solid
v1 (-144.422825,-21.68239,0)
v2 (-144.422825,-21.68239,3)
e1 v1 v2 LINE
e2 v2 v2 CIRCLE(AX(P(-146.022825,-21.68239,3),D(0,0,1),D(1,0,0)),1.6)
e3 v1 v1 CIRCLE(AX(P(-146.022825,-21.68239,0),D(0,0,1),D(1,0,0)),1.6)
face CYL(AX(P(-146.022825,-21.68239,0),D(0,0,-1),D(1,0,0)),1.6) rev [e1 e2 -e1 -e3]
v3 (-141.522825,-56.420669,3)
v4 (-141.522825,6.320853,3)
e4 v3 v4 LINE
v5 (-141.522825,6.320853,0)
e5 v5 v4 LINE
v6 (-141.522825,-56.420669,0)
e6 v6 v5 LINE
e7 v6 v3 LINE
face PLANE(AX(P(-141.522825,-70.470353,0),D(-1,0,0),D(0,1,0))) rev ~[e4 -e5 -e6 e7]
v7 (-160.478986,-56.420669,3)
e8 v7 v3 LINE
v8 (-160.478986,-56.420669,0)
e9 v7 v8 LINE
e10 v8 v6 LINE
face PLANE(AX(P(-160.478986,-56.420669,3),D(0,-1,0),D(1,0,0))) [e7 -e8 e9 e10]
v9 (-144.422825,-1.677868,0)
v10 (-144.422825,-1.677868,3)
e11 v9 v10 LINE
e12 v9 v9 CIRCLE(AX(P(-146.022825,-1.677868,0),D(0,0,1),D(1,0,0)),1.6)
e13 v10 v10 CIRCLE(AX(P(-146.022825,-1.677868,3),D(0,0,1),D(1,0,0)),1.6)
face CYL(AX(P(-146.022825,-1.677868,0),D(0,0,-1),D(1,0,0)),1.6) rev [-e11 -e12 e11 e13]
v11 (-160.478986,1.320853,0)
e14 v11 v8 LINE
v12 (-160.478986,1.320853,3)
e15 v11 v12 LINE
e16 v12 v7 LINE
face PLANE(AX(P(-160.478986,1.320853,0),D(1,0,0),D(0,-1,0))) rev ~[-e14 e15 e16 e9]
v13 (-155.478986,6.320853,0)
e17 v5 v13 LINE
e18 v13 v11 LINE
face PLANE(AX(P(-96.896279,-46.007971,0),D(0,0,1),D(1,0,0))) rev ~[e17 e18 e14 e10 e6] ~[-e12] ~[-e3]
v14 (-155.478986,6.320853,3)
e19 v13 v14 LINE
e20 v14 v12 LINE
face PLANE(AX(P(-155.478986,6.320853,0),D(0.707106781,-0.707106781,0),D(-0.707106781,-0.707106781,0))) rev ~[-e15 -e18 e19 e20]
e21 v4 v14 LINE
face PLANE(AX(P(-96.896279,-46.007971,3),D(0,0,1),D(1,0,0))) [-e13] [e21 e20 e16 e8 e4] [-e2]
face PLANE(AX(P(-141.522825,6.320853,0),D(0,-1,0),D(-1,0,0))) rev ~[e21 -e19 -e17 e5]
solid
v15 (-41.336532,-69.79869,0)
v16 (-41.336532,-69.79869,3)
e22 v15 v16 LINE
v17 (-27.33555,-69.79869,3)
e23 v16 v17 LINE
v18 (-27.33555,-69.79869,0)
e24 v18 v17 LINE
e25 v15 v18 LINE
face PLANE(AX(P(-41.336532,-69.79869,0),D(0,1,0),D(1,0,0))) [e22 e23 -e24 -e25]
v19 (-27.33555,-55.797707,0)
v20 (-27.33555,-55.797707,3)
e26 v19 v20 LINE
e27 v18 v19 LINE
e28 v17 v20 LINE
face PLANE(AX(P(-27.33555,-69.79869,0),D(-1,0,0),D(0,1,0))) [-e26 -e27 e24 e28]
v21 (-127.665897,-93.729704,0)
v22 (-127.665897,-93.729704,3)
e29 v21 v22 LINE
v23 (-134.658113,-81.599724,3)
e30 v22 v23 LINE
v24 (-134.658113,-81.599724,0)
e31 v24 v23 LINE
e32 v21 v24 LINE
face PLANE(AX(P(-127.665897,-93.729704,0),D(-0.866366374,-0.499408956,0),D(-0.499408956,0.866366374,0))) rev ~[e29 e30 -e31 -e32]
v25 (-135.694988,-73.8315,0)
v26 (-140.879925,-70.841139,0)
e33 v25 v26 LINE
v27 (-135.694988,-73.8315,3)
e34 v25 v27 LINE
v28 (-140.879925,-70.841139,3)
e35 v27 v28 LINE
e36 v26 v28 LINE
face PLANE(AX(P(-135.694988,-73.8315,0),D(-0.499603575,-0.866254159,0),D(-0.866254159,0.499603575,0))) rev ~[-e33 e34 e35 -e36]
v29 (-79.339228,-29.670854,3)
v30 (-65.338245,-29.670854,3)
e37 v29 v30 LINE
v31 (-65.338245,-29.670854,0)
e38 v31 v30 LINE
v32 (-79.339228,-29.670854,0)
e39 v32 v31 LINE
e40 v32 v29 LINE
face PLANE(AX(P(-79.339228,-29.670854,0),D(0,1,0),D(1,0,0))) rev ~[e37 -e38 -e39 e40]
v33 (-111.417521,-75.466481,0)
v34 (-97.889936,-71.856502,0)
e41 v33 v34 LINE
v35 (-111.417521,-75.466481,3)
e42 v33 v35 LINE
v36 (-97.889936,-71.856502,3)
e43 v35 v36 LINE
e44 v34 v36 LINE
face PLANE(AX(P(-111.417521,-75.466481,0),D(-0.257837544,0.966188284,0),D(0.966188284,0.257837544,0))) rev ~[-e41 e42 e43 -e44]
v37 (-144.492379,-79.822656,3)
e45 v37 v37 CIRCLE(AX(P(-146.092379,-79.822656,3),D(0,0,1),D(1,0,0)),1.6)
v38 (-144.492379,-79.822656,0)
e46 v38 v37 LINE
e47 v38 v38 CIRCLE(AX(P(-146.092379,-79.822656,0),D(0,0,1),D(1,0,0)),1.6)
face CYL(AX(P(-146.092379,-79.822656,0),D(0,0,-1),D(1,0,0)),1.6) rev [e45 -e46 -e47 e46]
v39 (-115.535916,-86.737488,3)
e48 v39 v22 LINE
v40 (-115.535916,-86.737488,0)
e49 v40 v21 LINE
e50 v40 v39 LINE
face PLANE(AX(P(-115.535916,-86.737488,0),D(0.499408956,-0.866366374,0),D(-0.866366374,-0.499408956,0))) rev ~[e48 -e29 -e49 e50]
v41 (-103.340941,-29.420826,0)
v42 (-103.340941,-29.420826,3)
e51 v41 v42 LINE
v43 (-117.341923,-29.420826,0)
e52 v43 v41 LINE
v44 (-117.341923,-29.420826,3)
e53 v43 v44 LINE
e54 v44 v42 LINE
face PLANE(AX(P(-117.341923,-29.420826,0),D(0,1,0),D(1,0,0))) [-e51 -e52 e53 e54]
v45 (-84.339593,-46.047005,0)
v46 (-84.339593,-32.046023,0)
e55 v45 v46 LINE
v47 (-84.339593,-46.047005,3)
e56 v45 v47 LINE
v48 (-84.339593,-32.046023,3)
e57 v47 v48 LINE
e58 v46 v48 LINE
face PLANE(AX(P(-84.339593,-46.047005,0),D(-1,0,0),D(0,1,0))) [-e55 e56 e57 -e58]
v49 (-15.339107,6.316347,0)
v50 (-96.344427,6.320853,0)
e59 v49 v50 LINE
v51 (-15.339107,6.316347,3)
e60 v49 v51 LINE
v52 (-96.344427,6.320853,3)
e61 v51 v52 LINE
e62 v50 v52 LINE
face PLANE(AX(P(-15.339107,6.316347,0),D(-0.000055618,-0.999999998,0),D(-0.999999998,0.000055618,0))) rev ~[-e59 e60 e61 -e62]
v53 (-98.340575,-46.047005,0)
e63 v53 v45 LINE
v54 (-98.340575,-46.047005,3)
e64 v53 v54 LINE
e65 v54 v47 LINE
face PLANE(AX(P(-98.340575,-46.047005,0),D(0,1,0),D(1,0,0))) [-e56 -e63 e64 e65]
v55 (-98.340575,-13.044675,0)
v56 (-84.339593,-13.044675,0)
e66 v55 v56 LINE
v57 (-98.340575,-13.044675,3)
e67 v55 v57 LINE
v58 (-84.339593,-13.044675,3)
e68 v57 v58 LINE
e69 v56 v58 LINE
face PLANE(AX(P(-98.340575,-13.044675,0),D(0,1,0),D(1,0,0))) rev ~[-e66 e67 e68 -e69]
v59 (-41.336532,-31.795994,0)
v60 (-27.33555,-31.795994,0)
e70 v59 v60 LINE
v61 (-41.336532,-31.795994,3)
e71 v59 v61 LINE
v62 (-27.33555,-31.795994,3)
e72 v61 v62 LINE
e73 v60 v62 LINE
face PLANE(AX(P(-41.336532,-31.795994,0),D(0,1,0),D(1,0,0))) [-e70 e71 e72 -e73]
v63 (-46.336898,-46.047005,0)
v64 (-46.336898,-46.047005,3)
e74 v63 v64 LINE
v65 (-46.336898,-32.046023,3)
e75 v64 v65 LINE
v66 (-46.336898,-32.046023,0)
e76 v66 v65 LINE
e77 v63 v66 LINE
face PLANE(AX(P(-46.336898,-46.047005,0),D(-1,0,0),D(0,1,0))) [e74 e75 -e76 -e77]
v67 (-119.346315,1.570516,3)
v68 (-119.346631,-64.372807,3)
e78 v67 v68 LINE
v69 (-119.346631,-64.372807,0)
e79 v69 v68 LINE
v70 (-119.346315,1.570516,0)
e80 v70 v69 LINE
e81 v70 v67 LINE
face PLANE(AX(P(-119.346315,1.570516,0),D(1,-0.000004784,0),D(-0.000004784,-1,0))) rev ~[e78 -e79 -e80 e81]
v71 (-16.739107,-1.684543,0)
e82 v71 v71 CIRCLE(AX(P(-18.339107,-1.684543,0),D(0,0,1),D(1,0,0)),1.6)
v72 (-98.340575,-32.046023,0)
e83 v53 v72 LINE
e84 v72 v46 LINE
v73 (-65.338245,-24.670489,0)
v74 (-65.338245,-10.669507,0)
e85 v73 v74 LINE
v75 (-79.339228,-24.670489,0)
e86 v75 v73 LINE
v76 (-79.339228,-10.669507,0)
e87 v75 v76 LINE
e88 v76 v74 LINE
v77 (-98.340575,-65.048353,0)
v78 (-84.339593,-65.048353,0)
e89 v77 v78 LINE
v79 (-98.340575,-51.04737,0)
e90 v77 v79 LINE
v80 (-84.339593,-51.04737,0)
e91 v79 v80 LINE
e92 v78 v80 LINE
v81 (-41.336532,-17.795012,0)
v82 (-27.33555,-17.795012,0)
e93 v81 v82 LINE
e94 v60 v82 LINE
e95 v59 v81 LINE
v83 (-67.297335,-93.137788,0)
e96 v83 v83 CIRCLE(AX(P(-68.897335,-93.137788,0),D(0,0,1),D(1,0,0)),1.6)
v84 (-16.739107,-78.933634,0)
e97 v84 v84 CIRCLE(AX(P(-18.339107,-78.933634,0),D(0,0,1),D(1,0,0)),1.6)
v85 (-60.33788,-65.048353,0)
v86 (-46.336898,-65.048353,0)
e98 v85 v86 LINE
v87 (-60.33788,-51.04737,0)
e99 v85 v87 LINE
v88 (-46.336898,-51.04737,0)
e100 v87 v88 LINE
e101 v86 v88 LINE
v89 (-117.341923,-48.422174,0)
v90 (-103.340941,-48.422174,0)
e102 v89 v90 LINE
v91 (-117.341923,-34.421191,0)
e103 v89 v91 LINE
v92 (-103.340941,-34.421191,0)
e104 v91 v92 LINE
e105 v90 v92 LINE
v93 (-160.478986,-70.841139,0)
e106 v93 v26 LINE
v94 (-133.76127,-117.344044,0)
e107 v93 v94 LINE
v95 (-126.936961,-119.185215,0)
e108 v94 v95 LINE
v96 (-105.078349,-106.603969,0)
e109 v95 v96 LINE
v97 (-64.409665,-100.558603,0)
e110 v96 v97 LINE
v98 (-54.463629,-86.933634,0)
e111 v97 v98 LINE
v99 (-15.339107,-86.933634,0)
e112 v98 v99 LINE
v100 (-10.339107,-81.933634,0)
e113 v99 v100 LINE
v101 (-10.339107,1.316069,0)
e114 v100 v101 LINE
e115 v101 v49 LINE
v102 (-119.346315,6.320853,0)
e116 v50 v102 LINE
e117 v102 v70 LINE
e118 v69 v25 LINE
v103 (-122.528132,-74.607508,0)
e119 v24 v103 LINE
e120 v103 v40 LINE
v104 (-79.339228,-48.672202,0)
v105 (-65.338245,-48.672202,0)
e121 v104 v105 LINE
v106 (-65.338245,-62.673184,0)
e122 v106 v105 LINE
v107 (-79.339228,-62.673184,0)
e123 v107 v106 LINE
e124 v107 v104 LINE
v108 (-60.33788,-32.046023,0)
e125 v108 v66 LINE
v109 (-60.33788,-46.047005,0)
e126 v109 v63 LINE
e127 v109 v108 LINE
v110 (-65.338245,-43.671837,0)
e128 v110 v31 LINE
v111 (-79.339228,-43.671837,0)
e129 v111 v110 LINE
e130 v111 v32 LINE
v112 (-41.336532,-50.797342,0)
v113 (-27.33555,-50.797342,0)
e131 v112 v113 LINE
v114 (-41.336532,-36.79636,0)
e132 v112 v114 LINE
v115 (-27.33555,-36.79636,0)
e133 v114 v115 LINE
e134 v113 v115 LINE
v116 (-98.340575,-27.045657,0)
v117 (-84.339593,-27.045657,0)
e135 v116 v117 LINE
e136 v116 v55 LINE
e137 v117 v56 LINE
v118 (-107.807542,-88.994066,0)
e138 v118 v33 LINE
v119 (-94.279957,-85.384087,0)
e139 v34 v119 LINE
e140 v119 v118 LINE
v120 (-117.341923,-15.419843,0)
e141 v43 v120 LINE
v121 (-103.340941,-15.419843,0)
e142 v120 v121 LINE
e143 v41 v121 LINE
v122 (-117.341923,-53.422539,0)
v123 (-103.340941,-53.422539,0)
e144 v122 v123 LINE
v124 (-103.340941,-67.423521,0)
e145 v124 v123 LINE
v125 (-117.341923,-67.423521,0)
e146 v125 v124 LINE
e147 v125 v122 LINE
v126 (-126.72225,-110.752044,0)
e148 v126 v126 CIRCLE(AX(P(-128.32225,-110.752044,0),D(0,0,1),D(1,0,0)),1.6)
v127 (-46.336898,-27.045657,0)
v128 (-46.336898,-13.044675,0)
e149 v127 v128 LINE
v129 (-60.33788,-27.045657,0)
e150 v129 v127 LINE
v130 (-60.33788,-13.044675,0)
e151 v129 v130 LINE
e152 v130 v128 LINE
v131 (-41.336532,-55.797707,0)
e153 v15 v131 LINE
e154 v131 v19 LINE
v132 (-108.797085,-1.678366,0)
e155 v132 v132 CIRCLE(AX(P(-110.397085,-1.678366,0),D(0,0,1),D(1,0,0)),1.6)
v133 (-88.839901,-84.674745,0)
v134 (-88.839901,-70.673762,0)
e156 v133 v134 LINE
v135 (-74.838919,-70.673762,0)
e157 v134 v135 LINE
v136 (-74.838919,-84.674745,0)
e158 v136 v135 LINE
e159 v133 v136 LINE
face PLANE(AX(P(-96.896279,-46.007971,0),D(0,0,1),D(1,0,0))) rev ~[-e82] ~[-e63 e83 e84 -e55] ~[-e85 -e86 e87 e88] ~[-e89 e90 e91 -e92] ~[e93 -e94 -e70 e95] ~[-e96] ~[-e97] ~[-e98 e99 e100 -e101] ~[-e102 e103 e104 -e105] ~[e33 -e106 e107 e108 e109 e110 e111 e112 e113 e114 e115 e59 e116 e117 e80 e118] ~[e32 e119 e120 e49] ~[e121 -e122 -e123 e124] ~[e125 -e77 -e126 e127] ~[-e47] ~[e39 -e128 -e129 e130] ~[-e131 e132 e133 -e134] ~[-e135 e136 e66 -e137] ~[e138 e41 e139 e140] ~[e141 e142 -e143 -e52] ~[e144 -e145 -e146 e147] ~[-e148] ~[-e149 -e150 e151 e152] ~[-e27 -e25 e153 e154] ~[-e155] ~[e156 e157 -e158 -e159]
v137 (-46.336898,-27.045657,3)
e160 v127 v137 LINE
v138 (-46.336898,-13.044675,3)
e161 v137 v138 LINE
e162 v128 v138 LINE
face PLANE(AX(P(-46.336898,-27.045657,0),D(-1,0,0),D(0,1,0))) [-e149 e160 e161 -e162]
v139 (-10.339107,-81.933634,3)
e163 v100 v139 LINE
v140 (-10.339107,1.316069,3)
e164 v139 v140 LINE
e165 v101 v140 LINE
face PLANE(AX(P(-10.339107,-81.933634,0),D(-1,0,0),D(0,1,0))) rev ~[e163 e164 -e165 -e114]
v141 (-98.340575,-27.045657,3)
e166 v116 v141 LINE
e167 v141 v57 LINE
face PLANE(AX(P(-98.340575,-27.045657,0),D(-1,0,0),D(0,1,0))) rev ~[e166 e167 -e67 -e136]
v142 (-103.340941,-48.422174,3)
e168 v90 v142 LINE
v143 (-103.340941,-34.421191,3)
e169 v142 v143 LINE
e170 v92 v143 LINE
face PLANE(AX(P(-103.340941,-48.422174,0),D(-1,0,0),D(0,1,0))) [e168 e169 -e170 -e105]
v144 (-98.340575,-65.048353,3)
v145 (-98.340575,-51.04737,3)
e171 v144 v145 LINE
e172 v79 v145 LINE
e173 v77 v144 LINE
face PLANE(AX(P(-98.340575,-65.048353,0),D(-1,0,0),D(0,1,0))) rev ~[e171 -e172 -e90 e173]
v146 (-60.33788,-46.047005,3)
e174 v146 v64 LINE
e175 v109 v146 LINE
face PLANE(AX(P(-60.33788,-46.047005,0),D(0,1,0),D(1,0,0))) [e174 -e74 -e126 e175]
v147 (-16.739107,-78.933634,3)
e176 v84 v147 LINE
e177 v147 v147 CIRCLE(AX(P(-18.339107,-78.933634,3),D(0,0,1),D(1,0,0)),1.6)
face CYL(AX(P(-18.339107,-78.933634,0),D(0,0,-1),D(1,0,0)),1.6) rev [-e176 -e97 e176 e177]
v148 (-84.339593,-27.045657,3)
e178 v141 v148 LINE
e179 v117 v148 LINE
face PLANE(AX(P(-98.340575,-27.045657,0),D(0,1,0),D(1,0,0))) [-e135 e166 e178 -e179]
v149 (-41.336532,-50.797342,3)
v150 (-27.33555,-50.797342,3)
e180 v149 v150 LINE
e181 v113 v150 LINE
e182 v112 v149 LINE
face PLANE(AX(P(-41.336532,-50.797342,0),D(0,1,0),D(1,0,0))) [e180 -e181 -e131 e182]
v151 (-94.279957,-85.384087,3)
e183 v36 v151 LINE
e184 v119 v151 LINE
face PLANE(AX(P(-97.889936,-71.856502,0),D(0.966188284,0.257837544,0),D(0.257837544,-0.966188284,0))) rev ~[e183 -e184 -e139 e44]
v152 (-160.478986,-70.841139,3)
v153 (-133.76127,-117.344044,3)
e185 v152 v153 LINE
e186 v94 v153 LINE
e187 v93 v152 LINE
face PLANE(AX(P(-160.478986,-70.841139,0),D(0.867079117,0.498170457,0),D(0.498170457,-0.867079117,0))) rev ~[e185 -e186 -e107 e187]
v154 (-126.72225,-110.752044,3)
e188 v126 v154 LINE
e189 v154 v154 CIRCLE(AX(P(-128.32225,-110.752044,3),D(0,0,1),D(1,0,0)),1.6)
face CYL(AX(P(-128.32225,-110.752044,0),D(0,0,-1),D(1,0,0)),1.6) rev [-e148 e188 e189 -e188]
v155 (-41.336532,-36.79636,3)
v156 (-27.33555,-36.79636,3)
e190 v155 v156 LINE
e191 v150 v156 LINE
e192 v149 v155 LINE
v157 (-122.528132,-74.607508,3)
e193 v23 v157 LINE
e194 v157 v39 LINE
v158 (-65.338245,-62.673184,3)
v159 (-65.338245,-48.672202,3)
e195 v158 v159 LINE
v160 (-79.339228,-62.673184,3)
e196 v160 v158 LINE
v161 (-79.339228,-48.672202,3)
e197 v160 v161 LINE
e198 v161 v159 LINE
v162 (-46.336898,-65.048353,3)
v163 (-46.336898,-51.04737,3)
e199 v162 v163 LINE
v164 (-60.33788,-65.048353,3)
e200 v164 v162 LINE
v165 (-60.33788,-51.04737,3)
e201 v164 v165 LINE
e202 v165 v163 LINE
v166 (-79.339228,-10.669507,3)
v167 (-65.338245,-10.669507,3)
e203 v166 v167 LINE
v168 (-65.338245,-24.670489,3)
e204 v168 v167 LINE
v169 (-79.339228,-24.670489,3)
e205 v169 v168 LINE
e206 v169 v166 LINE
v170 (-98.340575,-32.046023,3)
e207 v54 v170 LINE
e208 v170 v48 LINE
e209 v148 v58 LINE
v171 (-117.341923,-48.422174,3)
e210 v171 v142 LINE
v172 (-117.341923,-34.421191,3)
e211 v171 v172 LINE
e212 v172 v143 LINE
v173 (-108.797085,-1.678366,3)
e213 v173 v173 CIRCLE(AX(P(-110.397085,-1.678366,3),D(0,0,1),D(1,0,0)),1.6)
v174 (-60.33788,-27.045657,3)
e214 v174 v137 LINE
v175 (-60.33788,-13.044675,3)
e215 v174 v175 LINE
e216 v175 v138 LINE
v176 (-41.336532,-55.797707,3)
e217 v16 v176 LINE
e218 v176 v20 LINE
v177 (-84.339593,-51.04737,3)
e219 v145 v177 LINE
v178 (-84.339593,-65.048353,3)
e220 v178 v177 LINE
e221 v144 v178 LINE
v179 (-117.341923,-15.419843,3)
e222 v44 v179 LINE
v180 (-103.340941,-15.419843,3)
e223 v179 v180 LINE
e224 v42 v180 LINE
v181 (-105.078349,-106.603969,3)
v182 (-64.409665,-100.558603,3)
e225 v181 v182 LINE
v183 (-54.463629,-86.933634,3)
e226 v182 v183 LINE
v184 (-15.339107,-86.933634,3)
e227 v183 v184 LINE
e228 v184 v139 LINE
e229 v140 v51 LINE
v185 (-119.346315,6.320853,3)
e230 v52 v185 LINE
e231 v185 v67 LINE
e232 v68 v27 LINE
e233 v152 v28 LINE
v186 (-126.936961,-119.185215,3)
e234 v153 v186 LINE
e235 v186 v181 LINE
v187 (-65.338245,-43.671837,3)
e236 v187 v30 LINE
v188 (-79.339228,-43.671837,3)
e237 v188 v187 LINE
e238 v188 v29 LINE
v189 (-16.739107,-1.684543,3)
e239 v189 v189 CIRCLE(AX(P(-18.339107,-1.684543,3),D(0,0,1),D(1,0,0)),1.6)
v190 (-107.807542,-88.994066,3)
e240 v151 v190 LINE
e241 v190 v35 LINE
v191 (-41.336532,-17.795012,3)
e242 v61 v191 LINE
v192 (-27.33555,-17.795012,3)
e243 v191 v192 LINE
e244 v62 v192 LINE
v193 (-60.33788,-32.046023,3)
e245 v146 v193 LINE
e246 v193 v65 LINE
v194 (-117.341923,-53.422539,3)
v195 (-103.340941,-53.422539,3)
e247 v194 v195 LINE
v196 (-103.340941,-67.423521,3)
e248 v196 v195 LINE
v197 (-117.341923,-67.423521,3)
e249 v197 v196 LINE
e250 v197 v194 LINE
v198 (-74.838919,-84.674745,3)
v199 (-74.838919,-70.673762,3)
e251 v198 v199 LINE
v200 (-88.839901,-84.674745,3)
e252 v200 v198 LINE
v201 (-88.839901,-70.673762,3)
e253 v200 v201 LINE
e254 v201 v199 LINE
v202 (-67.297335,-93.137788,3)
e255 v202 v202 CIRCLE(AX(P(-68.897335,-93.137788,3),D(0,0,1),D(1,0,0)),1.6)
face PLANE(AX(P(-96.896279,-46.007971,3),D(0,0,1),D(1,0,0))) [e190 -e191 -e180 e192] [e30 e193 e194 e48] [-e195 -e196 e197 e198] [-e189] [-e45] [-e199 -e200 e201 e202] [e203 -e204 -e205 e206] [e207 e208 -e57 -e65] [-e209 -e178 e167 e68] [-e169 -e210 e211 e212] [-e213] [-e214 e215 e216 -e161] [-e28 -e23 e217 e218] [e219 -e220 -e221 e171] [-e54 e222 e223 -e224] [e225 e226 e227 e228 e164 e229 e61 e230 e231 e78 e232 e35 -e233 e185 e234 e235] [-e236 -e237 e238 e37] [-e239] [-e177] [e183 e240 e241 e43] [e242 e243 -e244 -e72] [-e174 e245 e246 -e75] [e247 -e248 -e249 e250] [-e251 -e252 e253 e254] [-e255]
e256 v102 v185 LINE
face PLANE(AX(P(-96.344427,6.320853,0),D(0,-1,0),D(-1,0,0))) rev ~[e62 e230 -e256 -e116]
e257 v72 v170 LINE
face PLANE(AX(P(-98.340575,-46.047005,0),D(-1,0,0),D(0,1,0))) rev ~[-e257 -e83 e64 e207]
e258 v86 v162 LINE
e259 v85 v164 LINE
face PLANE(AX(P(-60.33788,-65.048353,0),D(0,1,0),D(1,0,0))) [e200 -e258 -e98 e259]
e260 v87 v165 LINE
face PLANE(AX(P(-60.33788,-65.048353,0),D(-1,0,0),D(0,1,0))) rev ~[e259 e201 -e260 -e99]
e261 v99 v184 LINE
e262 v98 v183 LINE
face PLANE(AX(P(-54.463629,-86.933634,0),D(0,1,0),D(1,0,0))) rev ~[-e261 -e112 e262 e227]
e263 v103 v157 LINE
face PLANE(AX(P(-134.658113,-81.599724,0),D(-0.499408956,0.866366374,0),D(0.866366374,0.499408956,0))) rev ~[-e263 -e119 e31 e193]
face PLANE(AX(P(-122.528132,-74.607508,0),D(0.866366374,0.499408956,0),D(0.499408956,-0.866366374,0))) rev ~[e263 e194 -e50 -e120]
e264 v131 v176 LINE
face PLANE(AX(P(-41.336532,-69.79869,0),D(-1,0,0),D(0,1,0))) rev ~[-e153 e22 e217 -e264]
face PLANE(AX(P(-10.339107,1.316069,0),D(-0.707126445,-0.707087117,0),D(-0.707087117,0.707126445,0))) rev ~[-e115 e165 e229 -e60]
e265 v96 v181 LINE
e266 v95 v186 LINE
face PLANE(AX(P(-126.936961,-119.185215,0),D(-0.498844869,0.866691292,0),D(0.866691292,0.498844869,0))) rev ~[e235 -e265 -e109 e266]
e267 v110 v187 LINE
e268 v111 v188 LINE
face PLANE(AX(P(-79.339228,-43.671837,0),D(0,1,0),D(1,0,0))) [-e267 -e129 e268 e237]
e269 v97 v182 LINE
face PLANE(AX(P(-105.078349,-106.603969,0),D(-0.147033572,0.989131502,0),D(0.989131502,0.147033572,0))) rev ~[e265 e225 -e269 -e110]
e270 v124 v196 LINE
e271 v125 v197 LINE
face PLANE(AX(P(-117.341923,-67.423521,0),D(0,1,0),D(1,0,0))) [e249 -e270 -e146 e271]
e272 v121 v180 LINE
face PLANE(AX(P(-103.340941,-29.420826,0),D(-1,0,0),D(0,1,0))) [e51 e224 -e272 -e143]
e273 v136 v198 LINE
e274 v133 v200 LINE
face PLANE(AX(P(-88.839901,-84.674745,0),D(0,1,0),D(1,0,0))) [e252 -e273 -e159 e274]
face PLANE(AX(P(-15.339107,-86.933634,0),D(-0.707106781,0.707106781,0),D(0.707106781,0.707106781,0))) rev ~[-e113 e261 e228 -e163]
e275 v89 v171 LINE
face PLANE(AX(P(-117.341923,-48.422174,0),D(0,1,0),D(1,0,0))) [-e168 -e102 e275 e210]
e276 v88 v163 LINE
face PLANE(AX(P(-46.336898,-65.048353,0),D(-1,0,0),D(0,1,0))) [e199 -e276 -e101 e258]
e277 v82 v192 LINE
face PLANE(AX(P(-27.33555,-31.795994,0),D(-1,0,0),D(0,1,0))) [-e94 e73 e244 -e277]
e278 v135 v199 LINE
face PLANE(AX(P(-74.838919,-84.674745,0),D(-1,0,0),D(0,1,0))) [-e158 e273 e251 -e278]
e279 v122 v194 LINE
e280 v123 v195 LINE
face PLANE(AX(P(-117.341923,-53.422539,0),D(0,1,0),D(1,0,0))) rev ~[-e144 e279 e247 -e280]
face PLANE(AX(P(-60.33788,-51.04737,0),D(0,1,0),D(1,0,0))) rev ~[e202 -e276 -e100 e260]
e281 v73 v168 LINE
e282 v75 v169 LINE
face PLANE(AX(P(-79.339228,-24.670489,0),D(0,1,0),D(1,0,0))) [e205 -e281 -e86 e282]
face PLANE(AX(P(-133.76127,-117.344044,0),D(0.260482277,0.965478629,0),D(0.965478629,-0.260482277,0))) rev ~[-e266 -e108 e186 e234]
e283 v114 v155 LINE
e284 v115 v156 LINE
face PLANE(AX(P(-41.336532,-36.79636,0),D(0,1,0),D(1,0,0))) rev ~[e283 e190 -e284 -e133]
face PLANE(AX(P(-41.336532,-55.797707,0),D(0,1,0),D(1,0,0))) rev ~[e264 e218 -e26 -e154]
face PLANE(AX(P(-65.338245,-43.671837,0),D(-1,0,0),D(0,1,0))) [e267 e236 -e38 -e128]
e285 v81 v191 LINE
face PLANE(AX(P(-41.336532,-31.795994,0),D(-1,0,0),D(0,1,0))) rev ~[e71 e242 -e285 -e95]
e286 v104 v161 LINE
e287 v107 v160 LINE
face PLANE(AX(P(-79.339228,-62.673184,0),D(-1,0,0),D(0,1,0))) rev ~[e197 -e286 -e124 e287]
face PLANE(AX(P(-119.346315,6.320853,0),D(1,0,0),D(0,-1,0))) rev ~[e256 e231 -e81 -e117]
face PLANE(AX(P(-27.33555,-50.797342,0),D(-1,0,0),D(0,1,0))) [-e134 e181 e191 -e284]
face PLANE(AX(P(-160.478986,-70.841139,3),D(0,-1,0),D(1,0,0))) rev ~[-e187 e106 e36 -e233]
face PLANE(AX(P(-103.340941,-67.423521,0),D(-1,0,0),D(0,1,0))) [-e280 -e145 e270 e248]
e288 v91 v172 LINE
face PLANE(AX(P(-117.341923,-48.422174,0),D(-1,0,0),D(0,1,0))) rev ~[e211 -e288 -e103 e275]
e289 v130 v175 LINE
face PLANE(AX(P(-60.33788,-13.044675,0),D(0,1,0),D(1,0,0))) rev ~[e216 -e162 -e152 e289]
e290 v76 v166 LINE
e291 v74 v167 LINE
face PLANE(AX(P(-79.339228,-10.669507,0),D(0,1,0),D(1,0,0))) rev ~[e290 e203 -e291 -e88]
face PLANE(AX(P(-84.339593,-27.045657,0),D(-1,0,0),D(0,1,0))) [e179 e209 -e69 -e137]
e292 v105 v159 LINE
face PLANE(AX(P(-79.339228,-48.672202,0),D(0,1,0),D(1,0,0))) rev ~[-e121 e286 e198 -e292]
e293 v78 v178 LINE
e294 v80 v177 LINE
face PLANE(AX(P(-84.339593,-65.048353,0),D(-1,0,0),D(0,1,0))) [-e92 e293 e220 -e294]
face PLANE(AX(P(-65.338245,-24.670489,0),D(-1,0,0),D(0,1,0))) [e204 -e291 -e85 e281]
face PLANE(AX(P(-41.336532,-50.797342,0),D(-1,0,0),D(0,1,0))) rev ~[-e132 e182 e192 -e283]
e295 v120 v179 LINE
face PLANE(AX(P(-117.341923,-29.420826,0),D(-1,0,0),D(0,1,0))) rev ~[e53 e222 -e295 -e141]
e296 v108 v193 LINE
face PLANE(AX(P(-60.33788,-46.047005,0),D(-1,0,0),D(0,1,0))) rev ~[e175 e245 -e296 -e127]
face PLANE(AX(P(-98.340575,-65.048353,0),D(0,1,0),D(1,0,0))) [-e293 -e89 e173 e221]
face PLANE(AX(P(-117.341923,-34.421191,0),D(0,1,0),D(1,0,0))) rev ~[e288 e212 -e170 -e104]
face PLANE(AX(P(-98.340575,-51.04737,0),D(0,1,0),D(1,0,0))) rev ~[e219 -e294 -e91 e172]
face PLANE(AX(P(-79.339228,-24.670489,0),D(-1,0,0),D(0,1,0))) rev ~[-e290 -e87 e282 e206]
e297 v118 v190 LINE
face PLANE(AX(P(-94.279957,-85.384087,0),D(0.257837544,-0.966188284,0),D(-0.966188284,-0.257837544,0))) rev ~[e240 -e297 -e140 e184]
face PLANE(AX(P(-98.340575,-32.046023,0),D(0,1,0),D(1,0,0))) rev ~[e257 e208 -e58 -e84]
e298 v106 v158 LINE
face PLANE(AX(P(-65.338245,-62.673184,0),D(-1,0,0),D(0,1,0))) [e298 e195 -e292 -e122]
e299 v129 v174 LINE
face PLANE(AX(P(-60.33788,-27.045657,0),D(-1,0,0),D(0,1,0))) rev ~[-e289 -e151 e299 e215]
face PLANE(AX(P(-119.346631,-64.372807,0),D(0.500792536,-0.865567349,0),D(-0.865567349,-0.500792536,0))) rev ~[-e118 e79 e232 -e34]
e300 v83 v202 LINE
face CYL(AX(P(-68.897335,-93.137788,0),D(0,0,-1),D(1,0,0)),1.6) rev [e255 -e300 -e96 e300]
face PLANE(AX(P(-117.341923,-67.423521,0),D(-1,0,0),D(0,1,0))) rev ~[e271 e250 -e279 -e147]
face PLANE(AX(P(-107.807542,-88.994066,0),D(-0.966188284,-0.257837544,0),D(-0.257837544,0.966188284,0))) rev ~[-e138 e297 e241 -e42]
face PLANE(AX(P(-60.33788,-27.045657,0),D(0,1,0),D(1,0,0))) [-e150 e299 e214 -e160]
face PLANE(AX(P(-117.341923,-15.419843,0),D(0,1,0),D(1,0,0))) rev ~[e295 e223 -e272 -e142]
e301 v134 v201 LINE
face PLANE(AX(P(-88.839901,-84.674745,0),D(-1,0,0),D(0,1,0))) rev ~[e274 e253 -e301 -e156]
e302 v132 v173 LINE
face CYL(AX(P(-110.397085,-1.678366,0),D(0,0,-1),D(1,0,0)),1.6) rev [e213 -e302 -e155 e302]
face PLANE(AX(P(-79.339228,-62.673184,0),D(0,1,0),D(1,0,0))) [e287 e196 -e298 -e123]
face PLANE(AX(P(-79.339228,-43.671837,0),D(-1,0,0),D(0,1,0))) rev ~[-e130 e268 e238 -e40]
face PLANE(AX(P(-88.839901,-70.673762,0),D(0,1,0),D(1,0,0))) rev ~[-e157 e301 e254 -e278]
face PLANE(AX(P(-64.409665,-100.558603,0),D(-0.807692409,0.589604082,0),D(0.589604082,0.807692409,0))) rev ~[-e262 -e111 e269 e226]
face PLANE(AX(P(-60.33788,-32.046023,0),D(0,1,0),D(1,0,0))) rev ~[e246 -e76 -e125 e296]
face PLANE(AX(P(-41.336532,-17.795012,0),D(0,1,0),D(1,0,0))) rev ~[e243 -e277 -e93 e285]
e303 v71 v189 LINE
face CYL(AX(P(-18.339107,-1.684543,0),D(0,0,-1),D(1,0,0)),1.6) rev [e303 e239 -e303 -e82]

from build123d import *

# Parameters (mm, degrees)
SWITCHPLATE_R           = 1.6
SWITCHPLATE_W           = 14.000982373
SWITCHPLATE_H           = 14.000982374
SWITCHPLATE_H_2         = 14.000982373
SWITCHPLATE_W_2         = 14.000982374
BOSS_EXTRU_2_DEPTH      = 3
ESQUISSE1_W             = 20.456160795
ESQUISSE1_H             = 14.420470361
ENL_V_MAT_EXTRU_1_DEPTH = 10


with BuildPart() as part:
    # Switchplate → Boss.-Extru.2 (new body)
    with BuildSketch(Plane.XY):
        Polygon((-160.478985875, -70.841138967), (-133.761270027, -117.344044002), (-126.936961278, -119.18521524), (-105.07834936, -106.603969177), (-64.409664562, -100.558603138), (-54.463628843, -86.933633781), (-15.339106902, -86.933633781), (-10.339106902, -81.933633781), (-10.339106902, 1.31606909), (-15.339106894, 6.316347179), (-96.344426674, 6.320852512), (-103.340940531, 6.320852512), (-119.346315028, 6.320852512), (-119.346315028, 1.570515597), (-119.346630506, -64.372807463), (-135.694988334, -73.831500172), (-141.52282508, -70.47035259), (-141.52282508, 1.570515597), (-141.52282508, 6.320852512), (-155.478985875, 6.320852512), (-160.478985875, 1.320852512), (-160.478985875, -3.429484403), align=None)
        with Locations((-18.339106961, -1.684542717)):
            Circle(SWITCHPLATE_R, mode=Mode.SUBTRACT)
        with Locations((-110.397084988, -1.678365923)):
            Circle(SWITCHPLATE_R, mode=Mode.SUBTRACT)
        with Locations((-18.339106961, -78.933633781)):
            Circle(SWITCHPLATE_R, mode=Mode.SUBTRACT)
        with Locations((-68.897334865, -93.137788223)):
            Circle(SWITCHPLATE_R, mode=Mode.SUBTRACT)
        with Locations((-128.322250168, -110.752044388)):
            Circle(SWITCHPLATE_R, mode=Mode.SUBTRACT)
        with Locations((-146.0923789, -79.822656053)):
            Circle(SWITCHPLATE_R, mode=Mode.SUBTRACT)
        with Locations((-146.02282508, -1.677868186)):
            Circle(SWITCHPLATE_R, mode=Mode.SUBTRACT)
        with Locations((-146.02282508, -21.682390047)):
            Circle(SWITCHPLATE_R, mode=Mode.SUBTRACT)
        with Locations((-110.341431718, -22.42033468)):
            Rectangle(SWITCHPLATE_W, SWITCHPLATE_H, mode=Mode.SUBTRACT)
        with Locations((-91.340084057, -20.045166224)):
            Rectangle(SWITCHPLATE_W, SWITCHPLATE_H_2, mode=Mode.SUBTRACT)
        with Locations((-72.338736396, -17.669997767)):
            Rectangle(SWITCHPLATE_W_2, SWITCHPLATE_H, mode=Mode.SUBTRACT)
        with Locations((-53.337388735, -20.045166225)):
            Rectangle(SWITCHPLATE_W_2, SWITCHPLATE_H, mode=Mode.SUBTRACT)
        with Locations((-34.336041075, -24.795503141)):
            Rectangle(SWITCHPLATE_W_2, SWITCHPLATE_H, mode=Mode.SUBTRACT)
        with Locations((-110.341431718, -41.421682341)):
            Rectangle(SWITCHPLATE_W_2, SWITCHPLATE_H, mode=Mode.SUBTRACT)
        with Locations((-91.340084058, -39.046513884)):
            Rectangle(SWITCHPLATE_W, SWITCHPLATE_H, mode=Mode.SUBTRACT)
        with Locations((-72.338736397, -36.671345428)):
            Rectangle(SWITCHPLATE_W_2, SWITCHPLATE_H_2, mode=Mode.SUBTRACT)
        with Locations((-53.337388736, -39.046513886)):
            Rectangle(SWITCHPLATE_W_2, SWITCHPLATE_H, mode=Mode.SUBTRACT)
        with Locations((-34.336041076, -43.796850802)):
            Rectangle(SWITCHPLATE_W, SWITCHPLATE_H, mode=Mode.SUBTRACT)
        with Locations((-34.336041077, -62.798198463)):
            Rectangle(SWITCHPLATE_W, SWITCHPLATE_H, mode=Mode.SUBTRACT)
        with Locations((-53.337388737, -58.047861547)):
            Rectangle(SWITCHPLATE_W_2, SWITCHPLATE_H, mode=Mode.SUBTRACT)
        with Locations((-72.338736397, -55.672693088)):
            Rectangle(SWITCHPLATE_W, SWITCHPLATE_H, mode=Mode.SUBTRACT)
        with Locations((-91.340084058, -58.047861545)):
            Rectangle(SWITCHPLATE_W_2, SWITCHPLATE_H, mode=Mode.SUBTRACT)
        with Locations((-110.341431719, -60.423030002)):
            Rectangle(SWITCHPLATE_W_2, SWITCHPLATE_H, mode=Mode.SUBTRACT)
        with Locations((-81.839410229, -77.674253537)):
            Rectangle(SWITCHPLATE_W_2, SWITCHPLATE_H, mode=Mode.SUBTRACT)
        Polygon((-111.417520933, -75.466480675), (-97.889935794, -71.856501764), (-94.279956882, -85.384086902), (-107.807542021, -88.994065814), align=None, mode=Mode.SUBTRACT)
        Polygon((-134.658112592, -81.599723585), (-122.528132256, -74.607507592), (-115.535916264, -86.737487928), (-127.665896599, -93.729703921), align=None, mode=Mode.SUBTRACT)
    extrude(amount=BOSS_EXTRU_2_DEPTH)

    # Esquisse1 → Enlèv. mat.-Extru.1 (cut)
    with BuildSketch(Plane.XY.offset(3)):
        with Locations((-150.250905477, -63.630903787)):
            Rectangle(ESQUISSE1_W, ESQUISSE1_H)
    extrude(amount=-ENL_V_MAT_EXTRU_1_DEPTH, mode=Mode.SUBTRACT)


with BuildPart() as enl_v_mat_extru_1_piece_1:
    # of the separate pieces the step leaves, piece 1, a body of its own (enl_v_mat_extru_1_pieces)
    add(part.part.solids().sort_by_distance((-160.478985875, -70.841138967, 0))[0])


with BuildPart() as enl_v_mat_extru_1_piece_2:
    # of the separate pieces the step leaves, piece 2, a body of its own (enl_v_mat_extru_1_pieces)
    add(part.part.solids().sort_by_distance((-160.478985875, 1.320852512, 0))[0])


solid = Compound([enl_v_mat_extru_1_piece_1.part, enl_v_mat_extru_1_piece_2.part])
